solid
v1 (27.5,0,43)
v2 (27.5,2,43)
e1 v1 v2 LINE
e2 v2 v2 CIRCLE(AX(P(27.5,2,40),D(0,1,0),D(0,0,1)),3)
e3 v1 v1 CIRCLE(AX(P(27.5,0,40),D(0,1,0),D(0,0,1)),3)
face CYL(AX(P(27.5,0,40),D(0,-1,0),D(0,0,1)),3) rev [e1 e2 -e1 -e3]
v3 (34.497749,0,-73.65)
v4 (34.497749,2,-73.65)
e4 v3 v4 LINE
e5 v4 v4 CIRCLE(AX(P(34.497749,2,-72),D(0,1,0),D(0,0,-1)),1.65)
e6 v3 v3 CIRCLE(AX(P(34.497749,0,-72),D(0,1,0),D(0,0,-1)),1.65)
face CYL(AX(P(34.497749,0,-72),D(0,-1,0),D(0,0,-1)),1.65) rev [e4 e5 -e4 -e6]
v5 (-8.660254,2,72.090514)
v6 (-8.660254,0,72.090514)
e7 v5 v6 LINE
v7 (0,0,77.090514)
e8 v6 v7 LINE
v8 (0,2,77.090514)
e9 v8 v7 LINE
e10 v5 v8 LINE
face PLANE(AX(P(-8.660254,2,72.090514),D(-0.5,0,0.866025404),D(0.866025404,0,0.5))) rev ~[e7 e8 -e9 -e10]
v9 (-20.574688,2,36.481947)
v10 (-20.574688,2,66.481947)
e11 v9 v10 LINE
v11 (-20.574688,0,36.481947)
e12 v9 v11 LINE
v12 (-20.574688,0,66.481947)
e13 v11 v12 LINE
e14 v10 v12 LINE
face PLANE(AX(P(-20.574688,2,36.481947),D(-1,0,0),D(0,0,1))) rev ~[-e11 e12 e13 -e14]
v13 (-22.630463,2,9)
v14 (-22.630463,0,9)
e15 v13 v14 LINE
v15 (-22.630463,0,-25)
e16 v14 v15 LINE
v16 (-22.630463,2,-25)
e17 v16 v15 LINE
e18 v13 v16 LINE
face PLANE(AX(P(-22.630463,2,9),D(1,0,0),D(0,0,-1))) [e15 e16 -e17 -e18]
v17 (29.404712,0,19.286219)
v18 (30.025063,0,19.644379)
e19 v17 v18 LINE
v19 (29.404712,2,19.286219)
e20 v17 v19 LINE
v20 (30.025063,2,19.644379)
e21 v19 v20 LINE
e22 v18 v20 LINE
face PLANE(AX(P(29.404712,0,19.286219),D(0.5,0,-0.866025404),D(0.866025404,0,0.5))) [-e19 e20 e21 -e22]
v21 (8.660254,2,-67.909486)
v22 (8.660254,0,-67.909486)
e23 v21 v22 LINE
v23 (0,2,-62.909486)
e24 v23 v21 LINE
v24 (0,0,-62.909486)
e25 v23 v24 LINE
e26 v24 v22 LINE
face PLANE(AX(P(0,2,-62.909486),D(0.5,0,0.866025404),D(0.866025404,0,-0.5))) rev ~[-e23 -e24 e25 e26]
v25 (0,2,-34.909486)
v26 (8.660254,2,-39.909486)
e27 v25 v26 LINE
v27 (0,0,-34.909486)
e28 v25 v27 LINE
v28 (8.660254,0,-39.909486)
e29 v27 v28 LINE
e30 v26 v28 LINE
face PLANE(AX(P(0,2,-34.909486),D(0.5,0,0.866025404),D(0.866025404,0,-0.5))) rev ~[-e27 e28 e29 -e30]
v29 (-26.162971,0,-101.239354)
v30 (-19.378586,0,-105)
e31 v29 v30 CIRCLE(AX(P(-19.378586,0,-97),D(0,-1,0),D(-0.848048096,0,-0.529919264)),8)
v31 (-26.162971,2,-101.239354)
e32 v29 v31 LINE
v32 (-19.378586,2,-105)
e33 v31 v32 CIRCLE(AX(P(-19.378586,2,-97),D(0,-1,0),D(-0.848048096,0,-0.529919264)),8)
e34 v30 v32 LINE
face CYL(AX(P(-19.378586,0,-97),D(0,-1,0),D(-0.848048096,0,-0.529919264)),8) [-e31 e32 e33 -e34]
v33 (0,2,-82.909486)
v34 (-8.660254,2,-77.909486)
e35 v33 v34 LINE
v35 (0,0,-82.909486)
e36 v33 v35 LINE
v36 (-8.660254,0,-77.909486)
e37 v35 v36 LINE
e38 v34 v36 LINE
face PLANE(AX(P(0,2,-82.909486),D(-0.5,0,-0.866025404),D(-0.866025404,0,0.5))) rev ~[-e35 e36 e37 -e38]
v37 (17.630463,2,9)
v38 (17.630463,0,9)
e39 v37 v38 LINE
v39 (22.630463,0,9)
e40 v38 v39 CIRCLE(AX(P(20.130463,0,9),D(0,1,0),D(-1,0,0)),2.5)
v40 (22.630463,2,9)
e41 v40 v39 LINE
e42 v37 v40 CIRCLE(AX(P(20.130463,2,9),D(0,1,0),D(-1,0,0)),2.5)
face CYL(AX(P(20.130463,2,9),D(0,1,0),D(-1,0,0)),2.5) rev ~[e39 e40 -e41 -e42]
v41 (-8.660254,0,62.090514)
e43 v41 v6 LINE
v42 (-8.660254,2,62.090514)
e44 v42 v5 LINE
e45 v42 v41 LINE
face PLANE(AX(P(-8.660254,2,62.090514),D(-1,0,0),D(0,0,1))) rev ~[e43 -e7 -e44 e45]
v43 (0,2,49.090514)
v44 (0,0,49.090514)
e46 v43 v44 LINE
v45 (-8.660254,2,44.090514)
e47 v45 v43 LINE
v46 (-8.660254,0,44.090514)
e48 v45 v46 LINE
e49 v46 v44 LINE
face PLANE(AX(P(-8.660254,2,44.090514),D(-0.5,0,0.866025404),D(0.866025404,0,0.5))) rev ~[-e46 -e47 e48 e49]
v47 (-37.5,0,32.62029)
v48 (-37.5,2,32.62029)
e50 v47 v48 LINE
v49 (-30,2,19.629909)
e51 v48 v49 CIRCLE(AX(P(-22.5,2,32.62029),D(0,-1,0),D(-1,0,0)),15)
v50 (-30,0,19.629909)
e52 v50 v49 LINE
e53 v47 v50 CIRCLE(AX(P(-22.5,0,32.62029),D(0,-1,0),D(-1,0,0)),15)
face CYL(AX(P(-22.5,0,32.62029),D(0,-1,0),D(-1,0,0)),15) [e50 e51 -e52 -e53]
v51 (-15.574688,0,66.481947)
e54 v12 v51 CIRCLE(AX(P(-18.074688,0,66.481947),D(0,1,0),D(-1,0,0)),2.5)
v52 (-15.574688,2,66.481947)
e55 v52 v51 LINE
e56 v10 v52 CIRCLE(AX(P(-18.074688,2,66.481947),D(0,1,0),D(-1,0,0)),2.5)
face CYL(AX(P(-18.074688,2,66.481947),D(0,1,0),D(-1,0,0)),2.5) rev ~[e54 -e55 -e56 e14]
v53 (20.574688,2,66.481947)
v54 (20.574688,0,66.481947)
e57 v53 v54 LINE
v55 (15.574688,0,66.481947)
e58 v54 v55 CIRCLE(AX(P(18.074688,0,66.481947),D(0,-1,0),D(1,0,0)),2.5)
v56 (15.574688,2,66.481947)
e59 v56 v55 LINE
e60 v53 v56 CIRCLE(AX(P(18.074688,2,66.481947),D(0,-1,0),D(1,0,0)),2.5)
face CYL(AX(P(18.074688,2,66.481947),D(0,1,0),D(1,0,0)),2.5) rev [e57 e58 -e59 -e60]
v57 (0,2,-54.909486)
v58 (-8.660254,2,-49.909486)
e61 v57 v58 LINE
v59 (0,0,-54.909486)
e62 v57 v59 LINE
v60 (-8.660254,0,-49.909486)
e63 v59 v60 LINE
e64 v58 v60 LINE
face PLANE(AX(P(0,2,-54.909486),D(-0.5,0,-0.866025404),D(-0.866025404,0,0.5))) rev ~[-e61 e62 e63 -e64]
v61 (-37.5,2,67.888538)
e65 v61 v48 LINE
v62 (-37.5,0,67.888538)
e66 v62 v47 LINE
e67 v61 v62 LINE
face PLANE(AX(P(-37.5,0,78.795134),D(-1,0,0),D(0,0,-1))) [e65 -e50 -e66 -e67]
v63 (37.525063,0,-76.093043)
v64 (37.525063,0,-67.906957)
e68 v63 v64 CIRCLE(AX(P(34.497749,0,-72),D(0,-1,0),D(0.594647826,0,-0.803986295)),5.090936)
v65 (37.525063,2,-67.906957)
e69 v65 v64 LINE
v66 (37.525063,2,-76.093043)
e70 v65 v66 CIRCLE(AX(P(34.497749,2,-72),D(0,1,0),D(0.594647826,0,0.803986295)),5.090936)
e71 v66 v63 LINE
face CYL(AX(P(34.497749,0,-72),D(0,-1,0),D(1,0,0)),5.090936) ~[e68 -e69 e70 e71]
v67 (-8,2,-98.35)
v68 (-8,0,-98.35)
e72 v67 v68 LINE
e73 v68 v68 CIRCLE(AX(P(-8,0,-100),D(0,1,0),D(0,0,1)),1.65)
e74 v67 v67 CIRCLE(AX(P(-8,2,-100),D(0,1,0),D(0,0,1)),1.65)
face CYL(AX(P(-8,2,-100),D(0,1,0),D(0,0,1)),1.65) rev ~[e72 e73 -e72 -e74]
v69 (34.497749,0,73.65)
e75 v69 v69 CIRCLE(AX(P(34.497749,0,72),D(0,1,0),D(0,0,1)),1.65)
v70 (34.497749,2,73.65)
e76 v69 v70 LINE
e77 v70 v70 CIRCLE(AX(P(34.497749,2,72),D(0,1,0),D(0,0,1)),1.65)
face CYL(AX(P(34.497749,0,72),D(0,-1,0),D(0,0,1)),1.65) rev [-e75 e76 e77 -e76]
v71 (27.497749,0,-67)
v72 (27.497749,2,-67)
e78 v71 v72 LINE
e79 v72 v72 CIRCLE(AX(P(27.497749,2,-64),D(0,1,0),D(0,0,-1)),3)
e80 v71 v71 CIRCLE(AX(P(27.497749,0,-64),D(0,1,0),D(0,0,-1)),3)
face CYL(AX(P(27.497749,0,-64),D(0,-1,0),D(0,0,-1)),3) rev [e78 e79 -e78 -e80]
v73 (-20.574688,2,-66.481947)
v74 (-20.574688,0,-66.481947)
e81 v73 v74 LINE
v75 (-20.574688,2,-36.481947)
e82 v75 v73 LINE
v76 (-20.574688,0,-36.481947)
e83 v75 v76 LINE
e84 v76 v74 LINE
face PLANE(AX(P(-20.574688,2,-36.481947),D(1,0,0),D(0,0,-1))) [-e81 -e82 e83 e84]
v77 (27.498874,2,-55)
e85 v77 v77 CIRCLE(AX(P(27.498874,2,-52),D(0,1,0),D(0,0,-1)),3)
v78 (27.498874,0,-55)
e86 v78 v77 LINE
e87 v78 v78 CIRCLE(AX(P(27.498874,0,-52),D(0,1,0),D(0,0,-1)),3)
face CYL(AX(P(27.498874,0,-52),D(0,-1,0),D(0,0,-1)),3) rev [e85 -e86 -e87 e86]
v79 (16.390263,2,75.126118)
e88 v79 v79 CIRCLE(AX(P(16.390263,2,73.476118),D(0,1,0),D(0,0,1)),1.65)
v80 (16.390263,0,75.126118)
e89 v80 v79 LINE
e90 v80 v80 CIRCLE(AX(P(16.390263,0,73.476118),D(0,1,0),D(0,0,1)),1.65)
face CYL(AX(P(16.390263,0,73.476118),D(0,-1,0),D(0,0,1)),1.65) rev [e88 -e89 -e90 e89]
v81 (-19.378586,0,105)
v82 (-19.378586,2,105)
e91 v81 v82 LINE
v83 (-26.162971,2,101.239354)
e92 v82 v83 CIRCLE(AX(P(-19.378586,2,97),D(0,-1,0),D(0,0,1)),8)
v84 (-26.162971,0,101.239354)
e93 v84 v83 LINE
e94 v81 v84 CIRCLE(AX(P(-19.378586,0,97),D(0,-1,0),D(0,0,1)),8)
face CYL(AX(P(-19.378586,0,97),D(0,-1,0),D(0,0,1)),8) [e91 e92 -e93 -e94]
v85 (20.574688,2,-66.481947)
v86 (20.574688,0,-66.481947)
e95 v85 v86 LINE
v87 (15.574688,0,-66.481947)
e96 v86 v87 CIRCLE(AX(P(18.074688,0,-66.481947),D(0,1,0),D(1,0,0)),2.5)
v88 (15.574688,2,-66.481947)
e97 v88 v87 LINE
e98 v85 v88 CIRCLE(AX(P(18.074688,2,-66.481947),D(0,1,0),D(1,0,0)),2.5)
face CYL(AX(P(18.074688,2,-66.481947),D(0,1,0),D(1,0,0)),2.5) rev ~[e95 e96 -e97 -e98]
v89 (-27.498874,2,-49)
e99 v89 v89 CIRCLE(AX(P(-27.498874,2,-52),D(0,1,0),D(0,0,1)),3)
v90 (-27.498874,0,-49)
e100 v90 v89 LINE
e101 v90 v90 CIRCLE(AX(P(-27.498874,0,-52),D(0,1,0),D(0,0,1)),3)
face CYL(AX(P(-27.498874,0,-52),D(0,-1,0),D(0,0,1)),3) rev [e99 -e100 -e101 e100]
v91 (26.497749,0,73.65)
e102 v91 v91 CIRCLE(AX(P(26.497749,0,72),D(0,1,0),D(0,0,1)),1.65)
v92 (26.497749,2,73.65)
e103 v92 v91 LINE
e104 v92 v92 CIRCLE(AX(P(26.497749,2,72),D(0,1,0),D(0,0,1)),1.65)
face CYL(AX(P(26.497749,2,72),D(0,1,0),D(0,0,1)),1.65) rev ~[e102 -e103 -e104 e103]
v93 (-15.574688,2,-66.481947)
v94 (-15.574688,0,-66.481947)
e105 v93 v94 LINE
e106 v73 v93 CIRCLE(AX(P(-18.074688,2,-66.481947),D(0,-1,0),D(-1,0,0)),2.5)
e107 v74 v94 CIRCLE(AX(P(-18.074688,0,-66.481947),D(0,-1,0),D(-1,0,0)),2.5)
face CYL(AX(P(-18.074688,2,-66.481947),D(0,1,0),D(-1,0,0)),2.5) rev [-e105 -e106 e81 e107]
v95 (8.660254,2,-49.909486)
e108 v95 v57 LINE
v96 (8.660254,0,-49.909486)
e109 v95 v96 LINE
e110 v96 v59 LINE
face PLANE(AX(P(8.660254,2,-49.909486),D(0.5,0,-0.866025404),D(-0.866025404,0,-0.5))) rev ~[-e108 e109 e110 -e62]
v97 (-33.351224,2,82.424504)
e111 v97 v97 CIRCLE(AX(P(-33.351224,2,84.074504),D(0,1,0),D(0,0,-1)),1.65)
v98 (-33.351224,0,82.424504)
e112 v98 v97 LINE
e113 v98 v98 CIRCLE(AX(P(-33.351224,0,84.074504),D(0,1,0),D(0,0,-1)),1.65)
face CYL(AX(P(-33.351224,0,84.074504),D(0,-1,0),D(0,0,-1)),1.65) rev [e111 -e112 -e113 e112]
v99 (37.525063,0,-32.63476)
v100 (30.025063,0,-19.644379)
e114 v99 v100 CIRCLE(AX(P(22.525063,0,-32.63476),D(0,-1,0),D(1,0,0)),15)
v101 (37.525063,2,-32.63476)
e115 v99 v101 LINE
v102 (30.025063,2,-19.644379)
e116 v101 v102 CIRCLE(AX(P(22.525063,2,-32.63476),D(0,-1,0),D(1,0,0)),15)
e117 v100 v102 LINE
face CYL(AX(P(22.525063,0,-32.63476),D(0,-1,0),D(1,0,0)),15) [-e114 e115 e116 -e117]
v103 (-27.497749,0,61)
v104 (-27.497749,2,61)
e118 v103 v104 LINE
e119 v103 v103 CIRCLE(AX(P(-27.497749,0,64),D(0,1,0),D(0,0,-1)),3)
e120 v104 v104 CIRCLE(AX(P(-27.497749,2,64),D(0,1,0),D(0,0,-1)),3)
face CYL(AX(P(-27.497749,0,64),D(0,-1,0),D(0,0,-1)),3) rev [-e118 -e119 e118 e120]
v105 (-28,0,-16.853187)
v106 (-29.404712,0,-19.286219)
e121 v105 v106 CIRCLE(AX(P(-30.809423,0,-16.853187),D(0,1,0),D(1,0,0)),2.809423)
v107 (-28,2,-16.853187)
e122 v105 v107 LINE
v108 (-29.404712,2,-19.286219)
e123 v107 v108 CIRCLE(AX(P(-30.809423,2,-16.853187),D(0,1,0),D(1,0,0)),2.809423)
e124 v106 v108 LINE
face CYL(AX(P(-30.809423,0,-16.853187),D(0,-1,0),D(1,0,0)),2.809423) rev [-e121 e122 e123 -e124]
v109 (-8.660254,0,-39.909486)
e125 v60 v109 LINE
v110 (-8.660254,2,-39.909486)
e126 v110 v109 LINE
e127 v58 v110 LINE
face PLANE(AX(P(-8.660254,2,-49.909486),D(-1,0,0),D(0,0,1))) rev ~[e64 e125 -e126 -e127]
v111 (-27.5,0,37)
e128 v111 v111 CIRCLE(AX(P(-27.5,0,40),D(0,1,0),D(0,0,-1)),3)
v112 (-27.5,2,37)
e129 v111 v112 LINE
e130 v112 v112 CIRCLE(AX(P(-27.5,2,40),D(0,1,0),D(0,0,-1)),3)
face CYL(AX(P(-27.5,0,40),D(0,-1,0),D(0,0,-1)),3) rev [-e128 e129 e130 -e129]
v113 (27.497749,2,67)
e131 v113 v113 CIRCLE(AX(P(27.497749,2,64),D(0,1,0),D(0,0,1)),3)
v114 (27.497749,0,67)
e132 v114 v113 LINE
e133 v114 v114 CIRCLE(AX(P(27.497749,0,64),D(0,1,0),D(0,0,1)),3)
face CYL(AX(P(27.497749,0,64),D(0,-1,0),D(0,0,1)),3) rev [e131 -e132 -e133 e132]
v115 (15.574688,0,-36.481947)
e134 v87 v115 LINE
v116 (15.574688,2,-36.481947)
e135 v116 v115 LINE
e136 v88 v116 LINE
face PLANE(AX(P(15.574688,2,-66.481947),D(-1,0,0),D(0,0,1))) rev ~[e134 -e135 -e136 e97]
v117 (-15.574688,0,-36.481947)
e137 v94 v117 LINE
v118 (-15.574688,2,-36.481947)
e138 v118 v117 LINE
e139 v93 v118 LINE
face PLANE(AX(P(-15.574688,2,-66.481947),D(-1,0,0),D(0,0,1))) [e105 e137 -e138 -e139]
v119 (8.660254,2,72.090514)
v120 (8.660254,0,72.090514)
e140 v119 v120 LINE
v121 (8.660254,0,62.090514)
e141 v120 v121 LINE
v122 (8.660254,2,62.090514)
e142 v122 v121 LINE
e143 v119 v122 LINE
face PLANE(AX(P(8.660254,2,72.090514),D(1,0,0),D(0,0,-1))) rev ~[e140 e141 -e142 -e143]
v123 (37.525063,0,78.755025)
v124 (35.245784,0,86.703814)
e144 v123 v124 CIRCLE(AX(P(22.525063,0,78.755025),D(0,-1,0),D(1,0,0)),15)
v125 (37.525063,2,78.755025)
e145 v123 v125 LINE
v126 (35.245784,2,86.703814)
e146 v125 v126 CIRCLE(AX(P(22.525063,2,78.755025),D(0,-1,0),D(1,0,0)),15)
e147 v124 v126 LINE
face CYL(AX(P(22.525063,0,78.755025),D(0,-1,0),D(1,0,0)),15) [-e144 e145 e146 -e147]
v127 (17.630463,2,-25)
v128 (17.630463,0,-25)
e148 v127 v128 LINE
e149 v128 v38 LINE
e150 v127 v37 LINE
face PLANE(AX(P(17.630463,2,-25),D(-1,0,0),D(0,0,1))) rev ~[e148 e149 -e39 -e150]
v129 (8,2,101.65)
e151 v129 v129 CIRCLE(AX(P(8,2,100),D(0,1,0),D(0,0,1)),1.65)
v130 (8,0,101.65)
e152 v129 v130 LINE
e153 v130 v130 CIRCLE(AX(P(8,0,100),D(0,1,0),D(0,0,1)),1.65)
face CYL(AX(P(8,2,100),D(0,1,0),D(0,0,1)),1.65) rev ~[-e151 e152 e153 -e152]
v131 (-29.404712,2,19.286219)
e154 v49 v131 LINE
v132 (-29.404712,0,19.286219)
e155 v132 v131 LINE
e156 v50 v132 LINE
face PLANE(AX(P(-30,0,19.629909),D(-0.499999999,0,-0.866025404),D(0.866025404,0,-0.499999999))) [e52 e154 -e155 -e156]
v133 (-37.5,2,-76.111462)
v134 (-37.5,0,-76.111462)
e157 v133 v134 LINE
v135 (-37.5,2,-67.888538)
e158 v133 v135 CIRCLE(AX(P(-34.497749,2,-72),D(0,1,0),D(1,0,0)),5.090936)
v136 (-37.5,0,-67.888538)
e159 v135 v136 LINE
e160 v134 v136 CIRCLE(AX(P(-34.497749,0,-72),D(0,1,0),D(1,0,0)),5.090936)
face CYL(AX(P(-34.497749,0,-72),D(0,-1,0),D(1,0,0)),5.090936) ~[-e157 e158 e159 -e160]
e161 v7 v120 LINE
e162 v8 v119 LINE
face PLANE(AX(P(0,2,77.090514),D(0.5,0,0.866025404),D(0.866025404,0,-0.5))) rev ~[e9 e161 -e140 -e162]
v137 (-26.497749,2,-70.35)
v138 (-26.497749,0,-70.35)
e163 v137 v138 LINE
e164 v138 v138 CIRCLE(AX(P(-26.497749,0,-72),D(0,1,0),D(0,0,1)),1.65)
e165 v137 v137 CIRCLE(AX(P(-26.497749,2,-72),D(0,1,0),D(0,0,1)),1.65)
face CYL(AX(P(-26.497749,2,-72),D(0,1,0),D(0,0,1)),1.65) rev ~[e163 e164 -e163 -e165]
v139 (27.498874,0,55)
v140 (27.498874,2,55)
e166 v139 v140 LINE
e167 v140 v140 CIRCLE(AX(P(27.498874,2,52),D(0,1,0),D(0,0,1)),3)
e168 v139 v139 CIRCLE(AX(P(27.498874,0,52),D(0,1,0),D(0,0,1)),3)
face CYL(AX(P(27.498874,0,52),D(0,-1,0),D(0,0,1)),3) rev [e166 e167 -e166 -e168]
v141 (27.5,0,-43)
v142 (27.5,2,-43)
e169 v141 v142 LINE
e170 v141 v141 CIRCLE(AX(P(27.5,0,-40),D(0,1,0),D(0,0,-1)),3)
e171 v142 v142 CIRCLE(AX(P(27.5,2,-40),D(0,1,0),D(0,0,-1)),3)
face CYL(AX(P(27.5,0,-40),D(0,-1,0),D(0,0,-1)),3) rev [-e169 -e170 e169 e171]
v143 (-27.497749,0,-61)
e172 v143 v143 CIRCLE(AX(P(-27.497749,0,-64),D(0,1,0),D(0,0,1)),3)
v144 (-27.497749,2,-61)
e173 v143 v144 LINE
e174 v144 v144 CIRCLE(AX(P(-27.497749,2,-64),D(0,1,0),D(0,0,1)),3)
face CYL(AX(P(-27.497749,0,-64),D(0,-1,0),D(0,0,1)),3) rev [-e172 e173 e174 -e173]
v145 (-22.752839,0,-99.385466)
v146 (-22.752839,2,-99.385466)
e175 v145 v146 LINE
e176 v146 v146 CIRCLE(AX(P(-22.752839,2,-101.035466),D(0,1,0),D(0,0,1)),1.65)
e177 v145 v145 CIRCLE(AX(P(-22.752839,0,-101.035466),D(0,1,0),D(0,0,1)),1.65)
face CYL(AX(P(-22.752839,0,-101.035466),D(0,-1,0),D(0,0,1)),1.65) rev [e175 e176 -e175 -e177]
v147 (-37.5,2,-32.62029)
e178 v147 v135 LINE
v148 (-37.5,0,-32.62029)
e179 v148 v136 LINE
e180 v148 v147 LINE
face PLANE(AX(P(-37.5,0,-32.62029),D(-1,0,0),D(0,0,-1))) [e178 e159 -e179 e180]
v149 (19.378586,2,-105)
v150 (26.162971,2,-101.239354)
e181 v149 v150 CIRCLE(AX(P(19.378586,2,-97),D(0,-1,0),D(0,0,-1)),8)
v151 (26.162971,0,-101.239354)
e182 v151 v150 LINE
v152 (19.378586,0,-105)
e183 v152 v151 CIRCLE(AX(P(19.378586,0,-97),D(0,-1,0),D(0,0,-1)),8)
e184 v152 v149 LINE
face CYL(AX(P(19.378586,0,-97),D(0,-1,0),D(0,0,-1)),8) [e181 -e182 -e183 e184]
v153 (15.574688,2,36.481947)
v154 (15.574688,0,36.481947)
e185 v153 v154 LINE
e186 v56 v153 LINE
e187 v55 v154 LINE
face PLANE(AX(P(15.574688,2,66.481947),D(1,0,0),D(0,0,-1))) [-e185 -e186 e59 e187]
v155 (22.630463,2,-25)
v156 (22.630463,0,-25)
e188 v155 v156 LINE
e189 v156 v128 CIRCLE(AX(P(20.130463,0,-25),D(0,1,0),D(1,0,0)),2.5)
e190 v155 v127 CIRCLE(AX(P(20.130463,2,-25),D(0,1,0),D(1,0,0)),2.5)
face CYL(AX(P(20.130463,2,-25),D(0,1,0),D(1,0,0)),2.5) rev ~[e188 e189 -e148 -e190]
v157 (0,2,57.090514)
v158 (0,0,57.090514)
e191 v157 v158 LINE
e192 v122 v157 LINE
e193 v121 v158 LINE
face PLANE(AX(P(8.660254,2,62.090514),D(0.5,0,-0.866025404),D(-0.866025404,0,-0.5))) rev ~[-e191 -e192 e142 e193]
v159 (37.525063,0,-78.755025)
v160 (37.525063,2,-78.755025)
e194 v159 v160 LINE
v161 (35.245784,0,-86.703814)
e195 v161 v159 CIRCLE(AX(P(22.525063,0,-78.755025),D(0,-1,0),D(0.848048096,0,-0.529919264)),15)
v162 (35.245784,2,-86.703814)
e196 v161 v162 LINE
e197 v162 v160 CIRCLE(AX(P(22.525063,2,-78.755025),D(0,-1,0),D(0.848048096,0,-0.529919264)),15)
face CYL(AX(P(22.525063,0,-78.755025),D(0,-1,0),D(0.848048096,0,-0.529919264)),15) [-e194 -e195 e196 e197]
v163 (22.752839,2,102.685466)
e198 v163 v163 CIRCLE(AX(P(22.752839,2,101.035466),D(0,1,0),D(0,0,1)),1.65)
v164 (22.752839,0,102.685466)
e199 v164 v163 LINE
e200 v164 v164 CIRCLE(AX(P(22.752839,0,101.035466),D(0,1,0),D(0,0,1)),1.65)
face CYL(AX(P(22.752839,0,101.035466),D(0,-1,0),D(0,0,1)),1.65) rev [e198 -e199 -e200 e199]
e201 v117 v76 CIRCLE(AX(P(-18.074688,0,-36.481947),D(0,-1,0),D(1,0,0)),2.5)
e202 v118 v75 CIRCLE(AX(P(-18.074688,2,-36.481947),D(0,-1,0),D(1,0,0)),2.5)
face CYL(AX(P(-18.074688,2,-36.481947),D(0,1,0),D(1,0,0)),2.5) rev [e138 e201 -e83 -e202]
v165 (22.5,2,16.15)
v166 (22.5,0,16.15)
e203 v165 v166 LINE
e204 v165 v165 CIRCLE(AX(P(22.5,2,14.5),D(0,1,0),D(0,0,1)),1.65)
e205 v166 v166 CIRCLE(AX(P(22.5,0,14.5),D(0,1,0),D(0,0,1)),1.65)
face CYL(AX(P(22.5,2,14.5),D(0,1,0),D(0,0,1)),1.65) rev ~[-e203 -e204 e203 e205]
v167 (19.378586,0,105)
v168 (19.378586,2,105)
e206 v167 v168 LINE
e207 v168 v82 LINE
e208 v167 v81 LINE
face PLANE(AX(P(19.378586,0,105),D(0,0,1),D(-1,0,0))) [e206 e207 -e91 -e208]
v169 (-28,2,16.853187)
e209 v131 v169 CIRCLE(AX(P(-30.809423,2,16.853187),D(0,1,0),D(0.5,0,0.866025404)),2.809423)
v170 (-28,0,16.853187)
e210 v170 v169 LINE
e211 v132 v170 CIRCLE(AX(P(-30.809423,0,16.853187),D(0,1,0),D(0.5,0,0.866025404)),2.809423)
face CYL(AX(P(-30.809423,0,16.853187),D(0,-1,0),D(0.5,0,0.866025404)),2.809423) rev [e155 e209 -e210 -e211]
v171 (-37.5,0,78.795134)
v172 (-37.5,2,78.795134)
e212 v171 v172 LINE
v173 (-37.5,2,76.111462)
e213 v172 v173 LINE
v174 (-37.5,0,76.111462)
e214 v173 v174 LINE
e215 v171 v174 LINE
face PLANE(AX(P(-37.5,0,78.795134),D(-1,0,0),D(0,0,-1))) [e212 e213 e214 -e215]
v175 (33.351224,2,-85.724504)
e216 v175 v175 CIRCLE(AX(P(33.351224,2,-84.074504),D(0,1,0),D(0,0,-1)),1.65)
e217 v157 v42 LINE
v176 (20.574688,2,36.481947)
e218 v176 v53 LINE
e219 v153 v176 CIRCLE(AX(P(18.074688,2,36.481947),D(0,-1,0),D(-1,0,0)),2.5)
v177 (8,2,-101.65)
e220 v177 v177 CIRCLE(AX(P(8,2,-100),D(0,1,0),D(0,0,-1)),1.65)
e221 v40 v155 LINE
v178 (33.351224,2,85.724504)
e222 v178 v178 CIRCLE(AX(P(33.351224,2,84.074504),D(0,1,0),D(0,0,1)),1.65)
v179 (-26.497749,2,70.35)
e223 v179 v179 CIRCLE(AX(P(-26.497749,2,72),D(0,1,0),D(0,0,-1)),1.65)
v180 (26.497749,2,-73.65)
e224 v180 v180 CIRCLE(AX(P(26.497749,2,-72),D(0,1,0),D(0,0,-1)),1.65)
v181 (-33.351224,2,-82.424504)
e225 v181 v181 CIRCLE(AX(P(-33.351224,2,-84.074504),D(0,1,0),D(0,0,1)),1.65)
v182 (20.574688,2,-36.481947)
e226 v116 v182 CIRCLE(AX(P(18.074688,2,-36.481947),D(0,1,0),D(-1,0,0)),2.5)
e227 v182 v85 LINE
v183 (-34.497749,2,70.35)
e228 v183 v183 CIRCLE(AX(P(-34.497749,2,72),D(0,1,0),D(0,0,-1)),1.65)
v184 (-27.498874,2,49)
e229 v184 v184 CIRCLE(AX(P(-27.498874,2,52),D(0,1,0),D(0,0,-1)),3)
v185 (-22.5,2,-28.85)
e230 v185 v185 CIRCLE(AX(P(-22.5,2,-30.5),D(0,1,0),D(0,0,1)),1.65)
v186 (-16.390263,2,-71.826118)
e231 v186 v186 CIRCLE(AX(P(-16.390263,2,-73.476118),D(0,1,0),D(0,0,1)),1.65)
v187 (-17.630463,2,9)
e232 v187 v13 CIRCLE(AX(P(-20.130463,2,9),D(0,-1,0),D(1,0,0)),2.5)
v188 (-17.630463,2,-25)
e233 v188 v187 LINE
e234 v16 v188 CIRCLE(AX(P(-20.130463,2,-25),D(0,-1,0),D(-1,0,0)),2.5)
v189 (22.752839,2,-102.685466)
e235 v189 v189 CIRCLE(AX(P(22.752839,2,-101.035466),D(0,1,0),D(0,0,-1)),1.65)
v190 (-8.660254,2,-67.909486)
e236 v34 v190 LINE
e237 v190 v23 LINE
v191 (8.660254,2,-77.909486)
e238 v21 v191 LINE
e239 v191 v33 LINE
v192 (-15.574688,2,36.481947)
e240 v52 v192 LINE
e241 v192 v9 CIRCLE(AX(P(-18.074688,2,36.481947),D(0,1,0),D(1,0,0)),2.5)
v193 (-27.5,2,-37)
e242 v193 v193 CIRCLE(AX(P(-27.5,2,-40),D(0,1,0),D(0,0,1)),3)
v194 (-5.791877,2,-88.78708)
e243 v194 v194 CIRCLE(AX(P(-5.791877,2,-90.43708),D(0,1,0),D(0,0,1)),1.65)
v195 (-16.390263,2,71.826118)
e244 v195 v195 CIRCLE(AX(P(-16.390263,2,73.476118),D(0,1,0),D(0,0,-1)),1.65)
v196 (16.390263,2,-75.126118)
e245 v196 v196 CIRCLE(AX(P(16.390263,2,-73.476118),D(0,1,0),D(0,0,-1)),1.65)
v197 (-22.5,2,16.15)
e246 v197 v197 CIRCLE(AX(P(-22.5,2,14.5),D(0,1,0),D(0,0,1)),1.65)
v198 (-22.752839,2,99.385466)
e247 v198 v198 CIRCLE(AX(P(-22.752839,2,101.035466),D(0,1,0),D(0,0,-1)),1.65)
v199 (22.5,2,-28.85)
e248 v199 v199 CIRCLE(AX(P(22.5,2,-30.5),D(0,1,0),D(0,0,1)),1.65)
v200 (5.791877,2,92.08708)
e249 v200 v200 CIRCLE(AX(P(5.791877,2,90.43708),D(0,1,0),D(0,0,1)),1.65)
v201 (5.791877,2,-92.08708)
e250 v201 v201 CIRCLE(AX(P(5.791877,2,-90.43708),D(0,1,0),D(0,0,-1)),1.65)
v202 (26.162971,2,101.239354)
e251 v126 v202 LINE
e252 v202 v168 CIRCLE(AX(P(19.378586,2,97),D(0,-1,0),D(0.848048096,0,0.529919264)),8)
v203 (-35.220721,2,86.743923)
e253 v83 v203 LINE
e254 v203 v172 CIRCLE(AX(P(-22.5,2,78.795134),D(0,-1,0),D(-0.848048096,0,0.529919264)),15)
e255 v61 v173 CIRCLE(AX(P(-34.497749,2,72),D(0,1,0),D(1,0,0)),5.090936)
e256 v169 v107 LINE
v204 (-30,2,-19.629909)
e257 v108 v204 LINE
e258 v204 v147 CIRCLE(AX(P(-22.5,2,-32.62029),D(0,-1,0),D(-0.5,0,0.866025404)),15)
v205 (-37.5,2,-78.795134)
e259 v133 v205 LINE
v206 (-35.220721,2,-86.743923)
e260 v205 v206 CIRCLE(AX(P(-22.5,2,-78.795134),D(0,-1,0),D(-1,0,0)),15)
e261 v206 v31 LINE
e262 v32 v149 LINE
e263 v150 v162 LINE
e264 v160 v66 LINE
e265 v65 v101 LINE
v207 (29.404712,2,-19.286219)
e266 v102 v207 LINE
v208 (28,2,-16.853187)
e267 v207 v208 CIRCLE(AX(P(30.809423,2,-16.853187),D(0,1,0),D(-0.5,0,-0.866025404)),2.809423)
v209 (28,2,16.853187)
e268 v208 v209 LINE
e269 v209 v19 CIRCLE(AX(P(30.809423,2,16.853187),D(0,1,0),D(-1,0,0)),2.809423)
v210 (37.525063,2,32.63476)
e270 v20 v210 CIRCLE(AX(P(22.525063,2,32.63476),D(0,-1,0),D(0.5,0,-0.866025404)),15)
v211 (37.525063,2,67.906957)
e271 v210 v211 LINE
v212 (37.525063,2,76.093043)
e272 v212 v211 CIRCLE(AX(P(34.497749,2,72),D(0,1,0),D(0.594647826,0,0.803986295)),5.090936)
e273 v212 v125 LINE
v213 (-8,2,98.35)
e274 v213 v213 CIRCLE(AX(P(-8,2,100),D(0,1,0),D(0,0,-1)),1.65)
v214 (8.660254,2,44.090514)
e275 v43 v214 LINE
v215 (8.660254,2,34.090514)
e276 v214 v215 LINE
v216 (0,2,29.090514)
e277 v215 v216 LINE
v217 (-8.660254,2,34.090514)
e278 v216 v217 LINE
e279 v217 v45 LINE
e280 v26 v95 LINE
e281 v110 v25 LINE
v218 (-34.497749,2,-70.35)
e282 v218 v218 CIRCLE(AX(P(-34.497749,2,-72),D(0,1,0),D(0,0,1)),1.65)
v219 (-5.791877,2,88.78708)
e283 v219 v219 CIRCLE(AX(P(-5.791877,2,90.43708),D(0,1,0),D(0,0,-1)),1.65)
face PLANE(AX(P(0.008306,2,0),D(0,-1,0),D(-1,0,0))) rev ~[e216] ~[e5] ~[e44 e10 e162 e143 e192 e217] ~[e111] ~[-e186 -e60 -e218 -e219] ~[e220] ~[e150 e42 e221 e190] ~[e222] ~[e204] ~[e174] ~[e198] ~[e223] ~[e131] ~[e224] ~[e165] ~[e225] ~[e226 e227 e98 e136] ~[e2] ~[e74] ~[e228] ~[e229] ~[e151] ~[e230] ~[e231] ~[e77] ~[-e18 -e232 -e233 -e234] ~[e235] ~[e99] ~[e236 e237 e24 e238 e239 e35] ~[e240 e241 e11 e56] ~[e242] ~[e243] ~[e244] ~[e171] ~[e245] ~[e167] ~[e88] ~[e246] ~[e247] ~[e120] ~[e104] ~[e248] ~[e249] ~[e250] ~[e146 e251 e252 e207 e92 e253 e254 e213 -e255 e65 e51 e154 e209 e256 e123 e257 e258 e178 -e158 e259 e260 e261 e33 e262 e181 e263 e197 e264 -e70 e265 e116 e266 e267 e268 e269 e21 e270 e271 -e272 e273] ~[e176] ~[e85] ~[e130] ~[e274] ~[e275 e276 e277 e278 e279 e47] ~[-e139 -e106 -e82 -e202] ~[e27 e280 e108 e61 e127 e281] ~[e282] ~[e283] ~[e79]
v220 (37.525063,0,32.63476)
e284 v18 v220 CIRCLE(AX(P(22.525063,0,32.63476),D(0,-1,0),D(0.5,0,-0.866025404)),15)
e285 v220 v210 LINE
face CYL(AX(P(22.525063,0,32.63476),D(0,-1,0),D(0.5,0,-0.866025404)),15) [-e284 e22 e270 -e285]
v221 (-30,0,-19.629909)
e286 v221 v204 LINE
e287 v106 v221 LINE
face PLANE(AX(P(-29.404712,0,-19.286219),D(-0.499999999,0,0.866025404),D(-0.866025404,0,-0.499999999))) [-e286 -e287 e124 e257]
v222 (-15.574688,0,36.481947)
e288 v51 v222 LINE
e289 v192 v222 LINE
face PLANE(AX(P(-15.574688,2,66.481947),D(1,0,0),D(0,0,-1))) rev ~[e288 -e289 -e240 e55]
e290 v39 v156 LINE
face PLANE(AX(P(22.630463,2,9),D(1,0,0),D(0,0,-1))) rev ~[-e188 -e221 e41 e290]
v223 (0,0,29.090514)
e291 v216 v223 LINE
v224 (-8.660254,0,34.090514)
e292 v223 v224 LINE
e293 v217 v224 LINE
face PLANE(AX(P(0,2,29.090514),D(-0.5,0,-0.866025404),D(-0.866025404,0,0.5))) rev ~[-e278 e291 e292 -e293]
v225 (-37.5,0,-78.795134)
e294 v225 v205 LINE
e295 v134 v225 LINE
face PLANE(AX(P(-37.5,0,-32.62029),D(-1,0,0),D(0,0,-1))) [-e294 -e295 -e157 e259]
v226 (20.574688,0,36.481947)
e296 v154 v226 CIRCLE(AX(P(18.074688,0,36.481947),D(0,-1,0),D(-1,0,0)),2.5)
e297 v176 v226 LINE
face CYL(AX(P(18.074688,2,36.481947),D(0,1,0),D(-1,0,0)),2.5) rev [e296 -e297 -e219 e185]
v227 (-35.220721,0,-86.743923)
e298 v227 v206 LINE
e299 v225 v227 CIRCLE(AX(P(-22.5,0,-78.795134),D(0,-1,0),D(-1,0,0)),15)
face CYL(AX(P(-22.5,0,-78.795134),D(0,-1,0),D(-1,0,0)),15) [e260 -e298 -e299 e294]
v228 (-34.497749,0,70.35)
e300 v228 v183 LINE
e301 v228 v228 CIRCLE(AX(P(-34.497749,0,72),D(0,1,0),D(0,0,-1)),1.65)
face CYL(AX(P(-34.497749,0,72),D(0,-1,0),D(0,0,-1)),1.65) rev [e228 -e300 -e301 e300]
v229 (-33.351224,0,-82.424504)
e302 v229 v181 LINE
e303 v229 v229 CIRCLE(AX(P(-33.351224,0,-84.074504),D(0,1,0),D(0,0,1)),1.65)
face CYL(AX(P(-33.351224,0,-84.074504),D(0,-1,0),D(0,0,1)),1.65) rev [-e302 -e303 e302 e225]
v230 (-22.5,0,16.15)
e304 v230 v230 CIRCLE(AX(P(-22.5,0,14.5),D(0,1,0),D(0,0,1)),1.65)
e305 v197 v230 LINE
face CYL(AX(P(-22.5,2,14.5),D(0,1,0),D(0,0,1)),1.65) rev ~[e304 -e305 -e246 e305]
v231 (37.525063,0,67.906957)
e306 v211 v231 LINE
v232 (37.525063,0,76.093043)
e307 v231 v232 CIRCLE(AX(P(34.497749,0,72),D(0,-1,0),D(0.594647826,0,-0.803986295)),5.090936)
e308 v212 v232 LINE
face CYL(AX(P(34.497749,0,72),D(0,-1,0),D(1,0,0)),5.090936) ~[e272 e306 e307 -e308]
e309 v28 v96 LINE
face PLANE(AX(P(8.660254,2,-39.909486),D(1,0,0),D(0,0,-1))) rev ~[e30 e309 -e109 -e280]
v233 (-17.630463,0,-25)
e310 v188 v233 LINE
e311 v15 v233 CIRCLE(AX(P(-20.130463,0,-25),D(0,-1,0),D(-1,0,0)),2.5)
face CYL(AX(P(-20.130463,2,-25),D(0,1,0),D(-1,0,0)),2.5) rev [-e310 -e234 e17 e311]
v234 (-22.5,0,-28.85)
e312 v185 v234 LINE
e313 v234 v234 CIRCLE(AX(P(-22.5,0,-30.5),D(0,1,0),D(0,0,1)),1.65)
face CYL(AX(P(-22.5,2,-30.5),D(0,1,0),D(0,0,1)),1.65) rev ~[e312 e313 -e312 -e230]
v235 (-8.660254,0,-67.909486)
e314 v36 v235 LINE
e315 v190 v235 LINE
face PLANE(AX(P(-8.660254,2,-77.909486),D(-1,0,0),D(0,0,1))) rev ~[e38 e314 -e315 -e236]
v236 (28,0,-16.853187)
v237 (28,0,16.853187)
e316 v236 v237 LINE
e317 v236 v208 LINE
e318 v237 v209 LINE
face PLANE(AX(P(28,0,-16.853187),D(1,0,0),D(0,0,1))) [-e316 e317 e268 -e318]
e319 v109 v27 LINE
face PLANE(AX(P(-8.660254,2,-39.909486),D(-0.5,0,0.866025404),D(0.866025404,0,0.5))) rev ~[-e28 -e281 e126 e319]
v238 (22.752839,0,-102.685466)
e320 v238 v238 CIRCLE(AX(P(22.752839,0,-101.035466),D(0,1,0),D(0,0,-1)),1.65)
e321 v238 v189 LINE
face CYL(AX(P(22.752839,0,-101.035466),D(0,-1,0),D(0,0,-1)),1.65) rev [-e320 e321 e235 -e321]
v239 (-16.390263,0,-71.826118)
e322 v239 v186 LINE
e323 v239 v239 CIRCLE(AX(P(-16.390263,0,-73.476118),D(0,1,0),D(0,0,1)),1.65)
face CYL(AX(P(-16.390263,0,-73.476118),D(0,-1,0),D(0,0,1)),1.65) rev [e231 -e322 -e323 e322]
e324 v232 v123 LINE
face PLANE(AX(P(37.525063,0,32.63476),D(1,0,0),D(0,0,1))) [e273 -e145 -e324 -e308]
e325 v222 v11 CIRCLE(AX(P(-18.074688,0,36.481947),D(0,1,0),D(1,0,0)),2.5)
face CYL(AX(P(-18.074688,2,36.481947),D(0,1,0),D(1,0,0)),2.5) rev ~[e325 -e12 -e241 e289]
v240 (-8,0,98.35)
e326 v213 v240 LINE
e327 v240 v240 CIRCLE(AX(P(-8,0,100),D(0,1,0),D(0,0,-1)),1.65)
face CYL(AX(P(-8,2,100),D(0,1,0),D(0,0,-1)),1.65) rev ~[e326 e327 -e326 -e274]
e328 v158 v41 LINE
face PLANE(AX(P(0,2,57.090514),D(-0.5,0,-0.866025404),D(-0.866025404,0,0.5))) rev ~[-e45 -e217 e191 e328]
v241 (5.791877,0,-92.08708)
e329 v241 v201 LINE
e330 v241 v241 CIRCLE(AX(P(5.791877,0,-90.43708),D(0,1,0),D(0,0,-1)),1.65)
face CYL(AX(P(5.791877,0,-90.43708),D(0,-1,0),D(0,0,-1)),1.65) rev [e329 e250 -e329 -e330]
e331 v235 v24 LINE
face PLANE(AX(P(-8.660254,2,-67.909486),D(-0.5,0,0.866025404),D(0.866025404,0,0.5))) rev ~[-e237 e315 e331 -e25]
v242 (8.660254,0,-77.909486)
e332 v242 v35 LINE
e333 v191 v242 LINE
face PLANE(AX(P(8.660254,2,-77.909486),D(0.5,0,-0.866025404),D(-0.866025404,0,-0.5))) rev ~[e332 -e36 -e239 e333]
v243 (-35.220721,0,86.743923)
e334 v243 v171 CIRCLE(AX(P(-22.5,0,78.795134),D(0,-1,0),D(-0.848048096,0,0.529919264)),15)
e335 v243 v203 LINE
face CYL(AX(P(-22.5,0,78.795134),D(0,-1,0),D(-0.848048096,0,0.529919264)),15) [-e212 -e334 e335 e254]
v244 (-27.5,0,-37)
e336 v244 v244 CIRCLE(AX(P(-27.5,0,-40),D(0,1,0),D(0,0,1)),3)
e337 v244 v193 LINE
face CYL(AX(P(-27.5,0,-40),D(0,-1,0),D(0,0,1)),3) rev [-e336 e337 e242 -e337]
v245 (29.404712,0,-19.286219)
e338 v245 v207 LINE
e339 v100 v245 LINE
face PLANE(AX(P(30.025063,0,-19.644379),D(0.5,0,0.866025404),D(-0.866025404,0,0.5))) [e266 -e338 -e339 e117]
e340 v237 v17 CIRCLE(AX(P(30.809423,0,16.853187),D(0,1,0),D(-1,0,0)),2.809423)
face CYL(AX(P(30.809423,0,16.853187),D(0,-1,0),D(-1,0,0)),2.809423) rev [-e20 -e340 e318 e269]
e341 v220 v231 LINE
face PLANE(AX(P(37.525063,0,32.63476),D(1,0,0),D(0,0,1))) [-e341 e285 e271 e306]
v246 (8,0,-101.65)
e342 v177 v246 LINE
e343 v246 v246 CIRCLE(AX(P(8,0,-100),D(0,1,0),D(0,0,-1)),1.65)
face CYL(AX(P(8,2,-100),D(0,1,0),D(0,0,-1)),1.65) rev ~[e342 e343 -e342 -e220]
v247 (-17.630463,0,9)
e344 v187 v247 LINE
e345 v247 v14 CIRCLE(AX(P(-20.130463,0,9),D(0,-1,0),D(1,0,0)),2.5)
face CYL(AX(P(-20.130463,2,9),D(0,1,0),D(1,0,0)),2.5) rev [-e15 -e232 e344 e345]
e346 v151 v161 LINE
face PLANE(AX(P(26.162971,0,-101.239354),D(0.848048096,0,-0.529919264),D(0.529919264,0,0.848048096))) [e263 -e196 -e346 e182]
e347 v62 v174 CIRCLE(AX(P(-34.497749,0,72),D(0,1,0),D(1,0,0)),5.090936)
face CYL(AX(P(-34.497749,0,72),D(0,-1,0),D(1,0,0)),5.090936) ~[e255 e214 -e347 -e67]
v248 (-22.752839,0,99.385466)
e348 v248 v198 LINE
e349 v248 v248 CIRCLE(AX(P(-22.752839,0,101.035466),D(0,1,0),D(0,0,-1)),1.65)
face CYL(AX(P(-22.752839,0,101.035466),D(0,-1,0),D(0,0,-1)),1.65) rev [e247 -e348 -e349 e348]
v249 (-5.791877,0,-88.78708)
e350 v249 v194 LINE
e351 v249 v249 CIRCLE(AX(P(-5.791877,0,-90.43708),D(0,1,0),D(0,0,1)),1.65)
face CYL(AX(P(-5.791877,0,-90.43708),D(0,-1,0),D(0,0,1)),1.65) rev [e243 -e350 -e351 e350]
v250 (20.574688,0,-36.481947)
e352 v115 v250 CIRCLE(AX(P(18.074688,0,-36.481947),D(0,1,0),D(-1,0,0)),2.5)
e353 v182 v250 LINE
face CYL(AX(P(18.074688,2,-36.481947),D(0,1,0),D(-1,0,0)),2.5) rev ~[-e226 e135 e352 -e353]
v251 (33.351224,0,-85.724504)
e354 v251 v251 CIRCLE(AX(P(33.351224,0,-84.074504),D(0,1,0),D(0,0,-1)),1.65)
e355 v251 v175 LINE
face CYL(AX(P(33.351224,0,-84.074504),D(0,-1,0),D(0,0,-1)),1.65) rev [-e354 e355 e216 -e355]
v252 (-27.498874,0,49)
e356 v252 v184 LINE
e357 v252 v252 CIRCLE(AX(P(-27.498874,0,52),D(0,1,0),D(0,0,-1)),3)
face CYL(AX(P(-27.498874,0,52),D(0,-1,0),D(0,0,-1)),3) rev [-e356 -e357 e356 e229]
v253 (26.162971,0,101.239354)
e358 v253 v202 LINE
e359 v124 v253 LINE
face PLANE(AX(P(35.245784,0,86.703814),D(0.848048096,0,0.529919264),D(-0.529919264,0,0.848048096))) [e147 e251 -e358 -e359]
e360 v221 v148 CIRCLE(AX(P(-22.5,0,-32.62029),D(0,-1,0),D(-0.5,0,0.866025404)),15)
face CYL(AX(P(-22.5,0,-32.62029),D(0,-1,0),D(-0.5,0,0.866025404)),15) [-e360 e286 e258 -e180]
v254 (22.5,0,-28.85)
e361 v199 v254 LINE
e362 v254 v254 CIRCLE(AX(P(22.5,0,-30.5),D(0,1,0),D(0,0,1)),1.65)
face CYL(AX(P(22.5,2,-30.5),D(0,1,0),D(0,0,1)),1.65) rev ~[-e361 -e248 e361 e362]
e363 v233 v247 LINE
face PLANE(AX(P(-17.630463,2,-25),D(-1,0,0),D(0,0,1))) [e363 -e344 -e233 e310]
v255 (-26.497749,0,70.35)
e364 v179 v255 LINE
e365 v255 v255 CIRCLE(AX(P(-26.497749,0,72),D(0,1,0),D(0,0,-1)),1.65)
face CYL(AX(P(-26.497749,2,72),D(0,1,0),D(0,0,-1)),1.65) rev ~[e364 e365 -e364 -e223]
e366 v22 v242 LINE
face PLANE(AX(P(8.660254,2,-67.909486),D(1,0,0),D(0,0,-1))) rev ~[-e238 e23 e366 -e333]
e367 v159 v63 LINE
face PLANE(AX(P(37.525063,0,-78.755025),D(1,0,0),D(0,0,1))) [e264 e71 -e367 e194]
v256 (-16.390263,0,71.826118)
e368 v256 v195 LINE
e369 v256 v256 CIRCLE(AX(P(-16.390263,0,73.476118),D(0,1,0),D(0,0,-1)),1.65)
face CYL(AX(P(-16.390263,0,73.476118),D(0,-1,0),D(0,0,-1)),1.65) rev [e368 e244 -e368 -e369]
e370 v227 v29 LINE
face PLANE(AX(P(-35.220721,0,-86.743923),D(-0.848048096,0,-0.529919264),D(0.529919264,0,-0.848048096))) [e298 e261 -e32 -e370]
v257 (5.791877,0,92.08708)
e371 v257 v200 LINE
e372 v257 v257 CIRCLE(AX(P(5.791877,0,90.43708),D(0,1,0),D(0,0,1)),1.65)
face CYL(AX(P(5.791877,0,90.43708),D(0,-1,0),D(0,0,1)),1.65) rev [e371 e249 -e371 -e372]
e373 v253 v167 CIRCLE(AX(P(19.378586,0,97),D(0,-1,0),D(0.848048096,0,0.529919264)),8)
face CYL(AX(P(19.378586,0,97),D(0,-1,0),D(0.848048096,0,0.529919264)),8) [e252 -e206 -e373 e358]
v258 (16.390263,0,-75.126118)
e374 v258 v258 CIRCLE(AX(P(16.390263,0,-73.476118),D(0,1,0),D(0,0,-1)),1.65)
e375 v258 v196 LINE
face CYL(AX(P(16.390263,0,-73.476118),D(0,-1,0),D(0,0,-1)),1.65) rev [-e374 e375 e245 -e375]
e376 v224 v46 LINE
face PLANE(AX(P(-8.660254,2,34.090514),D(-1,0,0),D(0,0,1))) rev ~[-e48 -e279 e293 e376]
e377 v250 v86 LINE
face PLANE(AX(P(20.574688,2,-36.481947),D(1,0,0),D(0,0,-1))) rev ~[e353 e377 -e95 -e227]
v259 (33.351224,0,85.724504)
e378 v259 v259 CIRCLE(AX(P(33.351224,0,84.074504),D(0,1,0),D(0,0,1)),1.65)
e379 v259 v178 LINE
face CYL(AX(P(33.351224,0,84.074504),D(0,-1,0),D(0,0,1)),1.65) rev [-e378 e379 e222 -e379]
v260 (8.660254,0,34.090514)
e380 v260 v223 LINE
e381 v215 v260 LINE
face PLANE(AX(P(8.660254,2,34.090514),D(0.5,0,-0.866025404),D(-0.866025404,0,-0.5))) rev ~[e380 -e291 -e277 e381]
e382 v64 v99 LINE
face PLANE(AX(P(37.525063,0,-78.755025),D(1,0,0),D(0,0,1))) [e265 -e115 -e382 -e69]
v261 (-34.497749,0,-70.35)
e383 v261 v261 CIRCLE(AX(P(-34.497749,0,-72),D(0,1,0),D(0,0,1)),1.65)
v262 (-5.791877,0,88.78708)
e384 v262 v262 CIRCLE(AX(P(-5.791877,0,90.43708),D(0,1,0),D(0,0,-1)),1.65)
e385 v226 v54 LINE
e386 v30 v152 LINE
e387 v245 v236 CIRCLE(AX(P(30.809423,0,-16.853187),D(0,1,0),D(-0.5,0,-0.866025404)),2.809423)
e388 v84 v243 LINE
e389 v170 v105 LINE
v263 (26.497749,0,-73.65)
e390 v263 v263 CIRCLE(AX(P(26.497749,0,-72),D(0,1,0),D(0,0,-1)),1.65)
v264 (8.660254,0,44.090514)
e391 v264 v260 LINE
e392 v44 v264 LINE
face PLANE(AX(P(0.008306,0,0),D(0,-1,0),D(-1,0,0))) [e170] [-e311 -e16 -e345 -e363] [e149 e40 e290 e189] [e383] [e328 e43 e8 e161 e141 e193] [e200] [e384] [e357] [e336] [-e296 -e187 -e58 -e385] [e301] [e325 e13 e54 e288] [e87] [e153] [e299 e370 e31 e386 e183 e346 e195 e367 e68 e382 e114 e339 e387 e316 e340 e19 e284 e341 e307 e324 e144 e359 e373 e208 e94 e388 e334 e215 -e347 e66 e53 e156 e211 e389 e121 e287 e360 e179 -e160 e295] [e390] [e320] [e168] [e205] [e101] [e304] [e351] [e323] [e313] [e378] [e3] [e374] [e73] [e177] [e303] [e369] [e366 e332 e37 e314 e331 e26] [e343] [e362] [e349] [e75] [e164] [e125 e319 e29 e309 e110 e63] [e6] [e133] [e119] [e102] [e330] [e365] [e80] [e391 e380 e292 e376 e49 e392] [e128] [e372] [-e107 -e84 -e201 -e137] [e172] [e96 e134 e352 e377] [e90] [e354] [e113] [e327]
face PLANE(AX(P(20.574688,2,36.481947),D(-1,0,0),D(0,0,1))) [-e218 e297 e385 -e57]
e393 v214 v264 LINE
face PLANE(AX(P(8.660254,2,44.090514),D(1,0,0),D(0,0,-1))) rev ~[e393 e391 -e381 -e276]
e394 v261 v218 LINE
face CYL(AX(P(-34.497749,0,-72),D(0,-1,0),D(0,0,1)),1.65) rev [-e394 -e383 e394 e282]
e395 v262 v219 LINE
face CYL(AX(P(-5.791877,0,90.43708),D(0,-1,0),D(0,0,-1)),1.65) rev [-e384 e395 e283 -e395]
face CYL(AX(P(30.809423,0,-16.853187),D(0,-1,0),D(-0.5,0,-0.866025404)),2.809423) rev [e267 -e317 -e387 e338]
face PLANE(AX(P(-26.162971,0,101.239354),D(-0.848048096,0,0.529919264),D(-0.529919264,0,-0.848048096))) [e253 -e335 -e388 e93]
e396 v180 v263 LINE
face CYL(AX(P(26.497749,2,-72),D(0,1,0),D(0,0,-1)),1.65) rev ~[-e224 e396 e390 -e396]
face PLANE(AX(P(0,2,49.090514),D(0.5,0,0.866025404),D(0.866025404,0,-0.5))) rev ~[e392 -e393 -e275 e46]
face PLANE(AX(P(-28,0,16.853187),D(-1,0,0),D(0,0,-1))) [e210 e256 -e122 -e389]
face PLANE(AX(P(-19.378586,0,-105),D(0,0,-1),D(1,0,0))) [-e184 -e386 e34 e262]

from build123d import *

# Parameters (mm, degrees)
SKETCH1_R           = 3
SKETCH1_R_2         = 1.65
BOSS_EXTRUDE1_DEPTH = 2
BOSS_EXTRUDE2_START = -2
SKETCH2_R           = 5.090936199
SKETCH2_R_2         = 1.65
BOSS_EXTRUDE2_DEPTH = 2
SKETCH5_R           = 1.65
CUT_EXTRUDE1_DEPTH  = 2


with BuildPart() as part:
    # Sketch1 → Boss-Extrude1 (new body)
    with BuildSketch(Plane(origin=(0, 0, 0), x_dir=(1, 0, 0), z_dir=(0, 1, 0))):
        with BuildLine():
            Line((37.525062814, 78.755024886), (37.525062814, 32.634760232))
            ThreePointArc((37.525062814, 32.634760232), (35.515443871, 25.134760232), (30.025062814, 19.644379175))
            Line((30.025062814, 19.644379175), (29.404711739, 19.286219315))
            ThreePointArc((29.404711739, 19.286219315), (28.376391376, 18.257898952), (28, 16.853187212))
            Line((28, 16.853187212), (28, -16.853187212))
            ThreePointArc((28, -16.853187212), (28.376391376, -18.257898952), (29.404711739, -19.286219315))
            Line((29.404711739, -19.286219315), (30.025062814, -19.644379175))
            ThreePointArc((30.025062814, -19.644379175), (35.515443871, -25.134760232), (37.525062814, -32.634760232))
            Line((37.525062814, -32.634760232), (37.525062814, -78.755024886))
            ThreePointArc((37.525062814, -78.755024886), (36.943988254, -82.889585224), (35.245784257, -86.70381385))
            Line((35.245784257, -86.70381385), (26.162970632, -101.239354114))
            ThreePointArc((26.162970632, -101.239354114), (23.257062825, -103.996957657), (19.378585863, -105))
            Line((19.378585863, -105), (-19.378585863, -105))
            ThreePointArc((-19.378585863, -105), (-23.257062825, -103.996957657), (-26.162970632, -101.239354114))
            Line((-26.162970632, -101.239354114), (-35.220721442, -86.743922737))
            ThreePointArc((-35.220721442, -86.743922737), (-36.918925439, -82.929694111), (-37.5, -78.795133774))
            Line((-37.5, -78.795133774), (-37.5, -32.620290209))
            ThreePointArc((-37.5, -32.620290209), (-35.490381057, -25.120290209), (-30, -19.629909152))
            Line((-30, -19.629909152), (-29.404711739, -19.286219315))
            ThreePointArc((-29.404711739, -19.286219315), (-28.376391376, -18.257898952), (-28, -16.853187212))
            Line((-28, -16.853187212), (-28, 16.853187212))
            ThreePointArc((-28, 16.853187212), (-28.376391376, 18.257898952), (-29.404711739, 19.286219315))
            Line((-29.404711739, 19.286219315), (-30, 19.629909152))
            ThreePointArc((-30, 19.629909152), (-35.490381057, 25.120290209), (-37.5, 32.620290209))
            Line((-37.5, 32.620290209), (-37.5, 78.795133774))
            ThreePointArc((-37.5, 78.795133774), (-36.918925439, 82.929694111), (-35.220721442, 86.743922737))
            Line((-35.220721442, 86.743922737), (-26.162970632, 101.239354114))
            ThreePointArc((-26.162970632, 101.239354114), (-23.257062825, 103.996957657), (-19.378585863, 105))
            Line((-19.378585863, 105), (19.378585863, 105))
            ThreePointArc((19.378585863, 105), (23.257062825, 103.996957657), (26.162970632, 101.239354114))
            Line((26.162970632, 101.239354114), (35.245784257, 86.70381385))
            ThreePointArc((35.245784257, 86.70381385), (36.943988254, 82.889585224), (37.525062814, 78.755024886))
        make_face()
        with Locations(Location((-27.497748671, 63.999999894, 0), (0, 0, 270))):
            Circle(SKETCH1_R, mode=Mode.SUBTRACT)
        with Locations(Location((-27.498874335, 51.999999947, 0), (0, 0, 270))):
            Circle(SKETCH1_R, mode=Mode.SUBTRACT)
        with Locations(Location((-27.5, 40, 0), (0, 0, 270))):
            Circle(SKETCH1_R, mode=Mode.SUBTRACT)
        with Locations(Location((27.5, 40, 0), (0, 0, 90))):
            Circle(SKETCH1_R, mode=Mode.SUBTRACT)
        with Locations(Location((27.498874335, 51.999999947, 0), (0, 0, 90))):
            Circle(SKETCH1_R, mode=Mode.SUBTRACT)
        with Locations(Location((27.497748671, 63.999999894, 0), (0, 0, 90))):
            Circle(SKETCH1_R, mode=Mode.SUBTRACT)
        with Locations(Location((27.497748671, -63.999999894, 0), (0, 0, 270))):
            Circle(SKETCH1_R, mode=Mode.SUBTRACT)
        with Locations(Location((27.498874335, -51.999999947, 0), (0, 0, 270))):
            Circle(SKETCH1_R, mode=Mode.SUBTRACT)
        with Locations(Location((27.5, -40, 0), (0, 0, 270))):
            Circle(SKETCH1_R, mode=Mode.SUBTRACT)
        with Locations(Location((-27.5, -40, 0), (0, 0, 90))):
            Circle(SKETCH1_R, mode=Mode.SUBTRACT)
        with Locations(Location((-27.498874335, -51.999999947, 0), (0, 0, 90))):
            Circle(SKETCH1_R, mode=Mode.SUBTRACT)
        with Locations(Location((-27.497748671, -63.999999894, 0), (0, 0, 90))):
            Circle(SKETCH1_R, mode=Mode.SUBTRACT)
        with Locations(Location((-34.497748671, 71.999999894, 0), (0, 0, 270))):
            Circle(SKETCH1_R_2, mode=Mode.SUBTRACT)
        with Locations(Location((34.497748671, 71.999999894, 0), (0, 0, 90))):
            Circle(SKETCH1_R_2, mode=Mode.SUBTRACT)
        with Locations(Location((-34.497748671, -71.999999894, 0), (0, 0, 90))):
            Circle(SKETCH1_R_2, mode=Mode.SUBTRACT)
        with Locations(Location((-22.752839161, 101.035465512, 0), (0, 0, 270))):
            Circle(SKETCH1_R_2, mode=Mode.SUBTRACT)
        with Locations(Location((-33.351224445, 84.074503589, 0), (0, 0, 270))):
            Circle(SKETCH1_R_2, mode=Mode.SUBTRACT)
        with Locations(Location((-5.791877238, 90.437080228, 0), (0, 0, 270))):
            Circle(SKETCH1_R_2, mode=Mode.SUBTRACT)
        with Locations(Location((-16.390262522, 73.476118304, 0), (0, 0, 270))):
            Circle(SKETCH1_R_2, mode=Mode.SUBTRACT)
        with Locations(Location((16.390262522, 73.476118304, 0), (0, 0, 90))):
            Circle(SKETCH1_R_2, mode=Mode.SUBTRACT)
        with Locations(Location((5.791877238, 90.437080228, 0), (0, 0, 90))):
            Circle(SKETCH1_R_2, mode=Mode.SUBTRACT)
        with Locations(Location((33.351224445, 84.074503589, 0), (0, 0, 90))):
            Circle(SKETCH1_R_2, mode=Mode.SUBTRACT)
        with Locations(Location((22.752839161, 101.035465512, 0), (0, 0, 90))):
            Circle(SKETCH1_R_2, mode=Mode.SUBTRACT)
        with Locations(Location((-16.390262522, -73.476118304, 0), (0, 0, 90))):
            Circle(SKETCH1_R_2, mode=Mode.SUBTRACT)
        with Locations(Location((16.390262522, -73.476118304, 0), (0, 0, 270))):
            Circle(SKETCH1_R_2, mode=Mode.SUBTRACT)
        with Locations(Location((22.752839161, -101.035465512, 0), (0, 0, 270))):
            Circle(SKETCH1_R_2, mode=Mode.SUBTRACT)
        with Locations(Location((33.351224445, -84.074503589, 0), (0, 0, 270))):
            Circle(SKETCH1_R_2, mode=Mode.SUBTRACT)
        with Locations(Location((5.791877238, -90.437080228, 0), (0, 0, 270))):
            Circle(SKETCH1_R_2, mode=Mode.SUBTRACT)
        with Locations(Location((-5.791877238, -90.437080228, 0), (0, 0, 90))):
            Circle(SKETCH1_R_2, mode=Mode.SUBTRACT)
        with Locations(Location((-33.351224445, -84.074503589, 0), (0, 0, 90))):
            Circle(SKETCH1_R_2, mode=Mode.SUBTRACT)
        with Locations(Location((-22.752839161, -101.035465512, 0), (0, 0, 90))):
            Circle(SKETCH1_R_2, mode=Mode.SUBTRACT)
        with Locations(Location((34.497748671, -71.999999894, 0), (0, 0, 270))):
            Circle(SKETCH1_R_2, mode=Mode.SUBTRACT)
    extrude(amount=BOSS_EXTRUDE1_DEPTH)

    # Sketch2 → Boss-Extrude2 (add)
    # profile 1 of 4: a face of its own
    with BuildSketch(Plane(origin=(0, 2, 0), x_dir=(1, 0, 0), z_dir=(0, 1, 0)).offset(BOSS_EXTRUDE2_START)):
        with Locations((-34.497748671, 71.999999894)):
            Circle(SKETCH2_R)
        with Locations(Location((-34.497748671, 71.999999894, 0), (0, 0, 270))):
            Circle(SKETCH2_R_2, mode=Mode.SUBTRACT)
    # profile 2 of 4: a face of its own
    with BuildSketch(Plane(origin=(0, 2, 0), x_dir=(1, 0, 0), z_dir=(0, 1, 0)).offset(BOSS_EXTRUDE2_START)):
        with Locations((34.497748671, 71.999999894)):
            Circle(SKETCH2_R)
        with Locations(Location((34.497748671, 71.999999894, 0), (0, 0, 90))):
            Circle(SKETCH2_R_2, mode=Mode.SUBTRACT)
    # profile 3 of 4: a face of its own
    with BuildSketch(Plane(origin=(0, 2, 0), x_dir=(1, 0, 0), z_dir=(0, 1, 0)).offset(BOSS_EXTRUDE2_START)):
        with Locations((34.497748671, -71.999999894)):
            Circle(SKETCH2_R)
        with Locations(Location((34.497748671, -71.999999894, 0), (0, 0, 270))):
            Circle(SKETCH2_R_2, mode=Mode.SUBTRACT)
    # profile 4 of 4: a face of its own
    with BuildSketch(Plane(origin=(0, 2, 0), x_dir=(1, 0, 0), z_dir=(0, 1, 0)).offset(BOSS_EXTRUDE2_START)):
        with Locations((-34.497748671, -71.999999894)):
            Circle(SKETCH2_R)
        with Locations(Location((-34.497748671, -71.999999894, 0), (0, 0, 90))):
            Circle(SKETCH2_R_2, mode=Mode.SUBTRACT)
    extrude(amount=BOSS_EXTRUDE2_DEPTH)

    # Sketch5 → Cut-Extrude1 (cut)
    with BuildSketch(Plane(origin=(0, 2, 0), x_dir=(1, 0, 0), z_dir=(0, 1, 0))):
        with Locations(Location((-26.497748671, 71.999999894, 0), (0, 0, 270))):
            Circle(SKETCH5_R)
        with Locations(Location((-8, 100, 0), (0, 0, 270))):
            Circle(SKETCH5_R)
        with Locations(Location((8, 100, 0), (0, 0, 90))):
            Circle(SKETCH5_R)
        with Locations(Location((26.497748671, 71.999999894, 0), (0, 0, 90))):
            Circle(SKETCH5_R)
        with Locations(Location((26.497748671, -71.999999894, 0), (0, 0, 270))):
            Circle(SKETCH5_R)
        with Locations(Location((8, -100, 0), (0, 0, 270))):
            Circle(SKETCH5_R)
        with Locations(Location((-8, -100, 0), (0, 0, 90))):
            Circle(SKETCH5_R)
        with Locations(Location((-26.497748671, -71.999999894, 0), (0, 0, 90))):
            Circle(SKETCH5_R)
        with Locations(Location((-22.5, 30.5, 0), (0, 0, 270))):
            Circle(SKETCH5_R)
        with Locations(Location((22.5, 30.5, 0), (0, 0, 270))):
            Circle(SKETCH5_R)
        with Locations(Location((-22.5, -14.5, 0), (0, 0, 270))):
            Circle(SKETCH5_R)
        with Locations(Location((22.5, -14.5, 0), (0, 0, 270))):
            Circle(SKETCH5_R)
        with BuildLine():
            Line((-15.574688151, 66.481947499), (-15.574688151, 36.481947499))
            ThreePointArc((-15.574688151, 36.481947499), (-18.074688151, 33.981947499), (-20.574688151, 36.481947499))
            Line((-20.574688151, 36.481947499), (-20.574688151, 66.481947499))
            ThreePointArc((-20.574688151, 66.481947499), (-18.074688151, 68.981947499), (-15.574688151, 66.481947499))
        make_face()
        with BuildLine():
            Line((-17.63046279, 25), (-17.63046279, -9))
            ThreePointArc((-17.63046279, -9), (-20.13046279, -11.5), (-22.63046279, -9))
            Line((-22.63046279, -9), (-22.63046279, 25))
            ThreePointArc((-22.63046279, 25), (-20.13046279, 27.5), (-17.63046279, 25))
        make_face()
        with BuildLine():
            Line((17.63046279, 25), (17.63046279, -9))
            ThreePointArc((17.63046279, -9), (20.13046279, -11.5), (22.63046279, -9))
            Line((22.63046279, -9), (22.63046279, 25))
            ThreePointArc((22.63046279, 25), (20.13046279, 27.5), (17.63046279, 25))
        make_face()
        with BuildLine():
            Line((15.574688151, 66.481947499), (15.574688151, 36.481947499))
            ThreePointArc((15.574688151, 36.481947499), (18.074688151, 33.981947499), (20.574688151, 36.481947499))
            Line((20.574688151, 36.481947499), (20.574688151, 66.481947499))
            ThreePointArc((20.574688151, 66.481947499), (18.074688151, 68.981947499), (15.574688151, 66.481947499))
        make_face()
        with BuildLine():
            Line((15.574688151, -66.481947499), (15.574688151, -36.481947499))
            ThreePointArc((15.574688151, -36.481947499), (18.074688151, -33.981947499), (20.574688151, -36.481947499))
            Line((20.574688151, -36.481947499), (20.574688151, -66.481947499))
            ThreePointArc((20.574688151, -66.481947499), (18.074688151, -68.981947499), (15.574688151, -66.481947499))
        make_face()
        with BuildLine():
            Line((-15.574688151, -66.481947499), (-15.574688151, -36.481947499))
            ThreePointArc((-15.574688151, -36.481947499), (-18.074688151, -33.981947499), (-20.574688151, -36.481947499))
            Line((-20.574688151, -36.481947499), (-20.574688151, -66.481947499))
            ThreePointArc((-20.574688151, -66.481947499), (-18.074688151, -68.981947499), (-15.574688151, -66.481947499))
        make_face()
        Polygon((8.660254038, 49.909485966), (0, 54.909485966), (-8.660254038, 49.909485966), (-8.660254038, 39.909485966), (0, 34.909485966), (8.660254038, 39.909485966), align=None)
        Polygon((8.660254038, -44.090514034), (8.660254038, -34.090514034), (0, -29.090514034), (-8.660254038, -34.090514034), (-8.660254038, -44.090514034), (0, -49.090514034), align=None)
        Polygon((0, 62.909485966), (8.660254038, 67.909485966), (8.660254038, 77.909485966), (0, 82.909485966), (-8.660254038, 77.909485966), (-8.660254038, 67.909485966), align=None)
        Polygon((8.660254038, -62.090514034), (0, -57.090514034), (-8.660254038, -62.090514034), (-8.660254038, -72.090514034), (0, -77.090514034), (8.660254038, -72.090514034), align=None)
    extrude(amount=-CUT_EXTRUDE1_DEPTH, mode=Mode.SUBTRACT)


solid = part.part
